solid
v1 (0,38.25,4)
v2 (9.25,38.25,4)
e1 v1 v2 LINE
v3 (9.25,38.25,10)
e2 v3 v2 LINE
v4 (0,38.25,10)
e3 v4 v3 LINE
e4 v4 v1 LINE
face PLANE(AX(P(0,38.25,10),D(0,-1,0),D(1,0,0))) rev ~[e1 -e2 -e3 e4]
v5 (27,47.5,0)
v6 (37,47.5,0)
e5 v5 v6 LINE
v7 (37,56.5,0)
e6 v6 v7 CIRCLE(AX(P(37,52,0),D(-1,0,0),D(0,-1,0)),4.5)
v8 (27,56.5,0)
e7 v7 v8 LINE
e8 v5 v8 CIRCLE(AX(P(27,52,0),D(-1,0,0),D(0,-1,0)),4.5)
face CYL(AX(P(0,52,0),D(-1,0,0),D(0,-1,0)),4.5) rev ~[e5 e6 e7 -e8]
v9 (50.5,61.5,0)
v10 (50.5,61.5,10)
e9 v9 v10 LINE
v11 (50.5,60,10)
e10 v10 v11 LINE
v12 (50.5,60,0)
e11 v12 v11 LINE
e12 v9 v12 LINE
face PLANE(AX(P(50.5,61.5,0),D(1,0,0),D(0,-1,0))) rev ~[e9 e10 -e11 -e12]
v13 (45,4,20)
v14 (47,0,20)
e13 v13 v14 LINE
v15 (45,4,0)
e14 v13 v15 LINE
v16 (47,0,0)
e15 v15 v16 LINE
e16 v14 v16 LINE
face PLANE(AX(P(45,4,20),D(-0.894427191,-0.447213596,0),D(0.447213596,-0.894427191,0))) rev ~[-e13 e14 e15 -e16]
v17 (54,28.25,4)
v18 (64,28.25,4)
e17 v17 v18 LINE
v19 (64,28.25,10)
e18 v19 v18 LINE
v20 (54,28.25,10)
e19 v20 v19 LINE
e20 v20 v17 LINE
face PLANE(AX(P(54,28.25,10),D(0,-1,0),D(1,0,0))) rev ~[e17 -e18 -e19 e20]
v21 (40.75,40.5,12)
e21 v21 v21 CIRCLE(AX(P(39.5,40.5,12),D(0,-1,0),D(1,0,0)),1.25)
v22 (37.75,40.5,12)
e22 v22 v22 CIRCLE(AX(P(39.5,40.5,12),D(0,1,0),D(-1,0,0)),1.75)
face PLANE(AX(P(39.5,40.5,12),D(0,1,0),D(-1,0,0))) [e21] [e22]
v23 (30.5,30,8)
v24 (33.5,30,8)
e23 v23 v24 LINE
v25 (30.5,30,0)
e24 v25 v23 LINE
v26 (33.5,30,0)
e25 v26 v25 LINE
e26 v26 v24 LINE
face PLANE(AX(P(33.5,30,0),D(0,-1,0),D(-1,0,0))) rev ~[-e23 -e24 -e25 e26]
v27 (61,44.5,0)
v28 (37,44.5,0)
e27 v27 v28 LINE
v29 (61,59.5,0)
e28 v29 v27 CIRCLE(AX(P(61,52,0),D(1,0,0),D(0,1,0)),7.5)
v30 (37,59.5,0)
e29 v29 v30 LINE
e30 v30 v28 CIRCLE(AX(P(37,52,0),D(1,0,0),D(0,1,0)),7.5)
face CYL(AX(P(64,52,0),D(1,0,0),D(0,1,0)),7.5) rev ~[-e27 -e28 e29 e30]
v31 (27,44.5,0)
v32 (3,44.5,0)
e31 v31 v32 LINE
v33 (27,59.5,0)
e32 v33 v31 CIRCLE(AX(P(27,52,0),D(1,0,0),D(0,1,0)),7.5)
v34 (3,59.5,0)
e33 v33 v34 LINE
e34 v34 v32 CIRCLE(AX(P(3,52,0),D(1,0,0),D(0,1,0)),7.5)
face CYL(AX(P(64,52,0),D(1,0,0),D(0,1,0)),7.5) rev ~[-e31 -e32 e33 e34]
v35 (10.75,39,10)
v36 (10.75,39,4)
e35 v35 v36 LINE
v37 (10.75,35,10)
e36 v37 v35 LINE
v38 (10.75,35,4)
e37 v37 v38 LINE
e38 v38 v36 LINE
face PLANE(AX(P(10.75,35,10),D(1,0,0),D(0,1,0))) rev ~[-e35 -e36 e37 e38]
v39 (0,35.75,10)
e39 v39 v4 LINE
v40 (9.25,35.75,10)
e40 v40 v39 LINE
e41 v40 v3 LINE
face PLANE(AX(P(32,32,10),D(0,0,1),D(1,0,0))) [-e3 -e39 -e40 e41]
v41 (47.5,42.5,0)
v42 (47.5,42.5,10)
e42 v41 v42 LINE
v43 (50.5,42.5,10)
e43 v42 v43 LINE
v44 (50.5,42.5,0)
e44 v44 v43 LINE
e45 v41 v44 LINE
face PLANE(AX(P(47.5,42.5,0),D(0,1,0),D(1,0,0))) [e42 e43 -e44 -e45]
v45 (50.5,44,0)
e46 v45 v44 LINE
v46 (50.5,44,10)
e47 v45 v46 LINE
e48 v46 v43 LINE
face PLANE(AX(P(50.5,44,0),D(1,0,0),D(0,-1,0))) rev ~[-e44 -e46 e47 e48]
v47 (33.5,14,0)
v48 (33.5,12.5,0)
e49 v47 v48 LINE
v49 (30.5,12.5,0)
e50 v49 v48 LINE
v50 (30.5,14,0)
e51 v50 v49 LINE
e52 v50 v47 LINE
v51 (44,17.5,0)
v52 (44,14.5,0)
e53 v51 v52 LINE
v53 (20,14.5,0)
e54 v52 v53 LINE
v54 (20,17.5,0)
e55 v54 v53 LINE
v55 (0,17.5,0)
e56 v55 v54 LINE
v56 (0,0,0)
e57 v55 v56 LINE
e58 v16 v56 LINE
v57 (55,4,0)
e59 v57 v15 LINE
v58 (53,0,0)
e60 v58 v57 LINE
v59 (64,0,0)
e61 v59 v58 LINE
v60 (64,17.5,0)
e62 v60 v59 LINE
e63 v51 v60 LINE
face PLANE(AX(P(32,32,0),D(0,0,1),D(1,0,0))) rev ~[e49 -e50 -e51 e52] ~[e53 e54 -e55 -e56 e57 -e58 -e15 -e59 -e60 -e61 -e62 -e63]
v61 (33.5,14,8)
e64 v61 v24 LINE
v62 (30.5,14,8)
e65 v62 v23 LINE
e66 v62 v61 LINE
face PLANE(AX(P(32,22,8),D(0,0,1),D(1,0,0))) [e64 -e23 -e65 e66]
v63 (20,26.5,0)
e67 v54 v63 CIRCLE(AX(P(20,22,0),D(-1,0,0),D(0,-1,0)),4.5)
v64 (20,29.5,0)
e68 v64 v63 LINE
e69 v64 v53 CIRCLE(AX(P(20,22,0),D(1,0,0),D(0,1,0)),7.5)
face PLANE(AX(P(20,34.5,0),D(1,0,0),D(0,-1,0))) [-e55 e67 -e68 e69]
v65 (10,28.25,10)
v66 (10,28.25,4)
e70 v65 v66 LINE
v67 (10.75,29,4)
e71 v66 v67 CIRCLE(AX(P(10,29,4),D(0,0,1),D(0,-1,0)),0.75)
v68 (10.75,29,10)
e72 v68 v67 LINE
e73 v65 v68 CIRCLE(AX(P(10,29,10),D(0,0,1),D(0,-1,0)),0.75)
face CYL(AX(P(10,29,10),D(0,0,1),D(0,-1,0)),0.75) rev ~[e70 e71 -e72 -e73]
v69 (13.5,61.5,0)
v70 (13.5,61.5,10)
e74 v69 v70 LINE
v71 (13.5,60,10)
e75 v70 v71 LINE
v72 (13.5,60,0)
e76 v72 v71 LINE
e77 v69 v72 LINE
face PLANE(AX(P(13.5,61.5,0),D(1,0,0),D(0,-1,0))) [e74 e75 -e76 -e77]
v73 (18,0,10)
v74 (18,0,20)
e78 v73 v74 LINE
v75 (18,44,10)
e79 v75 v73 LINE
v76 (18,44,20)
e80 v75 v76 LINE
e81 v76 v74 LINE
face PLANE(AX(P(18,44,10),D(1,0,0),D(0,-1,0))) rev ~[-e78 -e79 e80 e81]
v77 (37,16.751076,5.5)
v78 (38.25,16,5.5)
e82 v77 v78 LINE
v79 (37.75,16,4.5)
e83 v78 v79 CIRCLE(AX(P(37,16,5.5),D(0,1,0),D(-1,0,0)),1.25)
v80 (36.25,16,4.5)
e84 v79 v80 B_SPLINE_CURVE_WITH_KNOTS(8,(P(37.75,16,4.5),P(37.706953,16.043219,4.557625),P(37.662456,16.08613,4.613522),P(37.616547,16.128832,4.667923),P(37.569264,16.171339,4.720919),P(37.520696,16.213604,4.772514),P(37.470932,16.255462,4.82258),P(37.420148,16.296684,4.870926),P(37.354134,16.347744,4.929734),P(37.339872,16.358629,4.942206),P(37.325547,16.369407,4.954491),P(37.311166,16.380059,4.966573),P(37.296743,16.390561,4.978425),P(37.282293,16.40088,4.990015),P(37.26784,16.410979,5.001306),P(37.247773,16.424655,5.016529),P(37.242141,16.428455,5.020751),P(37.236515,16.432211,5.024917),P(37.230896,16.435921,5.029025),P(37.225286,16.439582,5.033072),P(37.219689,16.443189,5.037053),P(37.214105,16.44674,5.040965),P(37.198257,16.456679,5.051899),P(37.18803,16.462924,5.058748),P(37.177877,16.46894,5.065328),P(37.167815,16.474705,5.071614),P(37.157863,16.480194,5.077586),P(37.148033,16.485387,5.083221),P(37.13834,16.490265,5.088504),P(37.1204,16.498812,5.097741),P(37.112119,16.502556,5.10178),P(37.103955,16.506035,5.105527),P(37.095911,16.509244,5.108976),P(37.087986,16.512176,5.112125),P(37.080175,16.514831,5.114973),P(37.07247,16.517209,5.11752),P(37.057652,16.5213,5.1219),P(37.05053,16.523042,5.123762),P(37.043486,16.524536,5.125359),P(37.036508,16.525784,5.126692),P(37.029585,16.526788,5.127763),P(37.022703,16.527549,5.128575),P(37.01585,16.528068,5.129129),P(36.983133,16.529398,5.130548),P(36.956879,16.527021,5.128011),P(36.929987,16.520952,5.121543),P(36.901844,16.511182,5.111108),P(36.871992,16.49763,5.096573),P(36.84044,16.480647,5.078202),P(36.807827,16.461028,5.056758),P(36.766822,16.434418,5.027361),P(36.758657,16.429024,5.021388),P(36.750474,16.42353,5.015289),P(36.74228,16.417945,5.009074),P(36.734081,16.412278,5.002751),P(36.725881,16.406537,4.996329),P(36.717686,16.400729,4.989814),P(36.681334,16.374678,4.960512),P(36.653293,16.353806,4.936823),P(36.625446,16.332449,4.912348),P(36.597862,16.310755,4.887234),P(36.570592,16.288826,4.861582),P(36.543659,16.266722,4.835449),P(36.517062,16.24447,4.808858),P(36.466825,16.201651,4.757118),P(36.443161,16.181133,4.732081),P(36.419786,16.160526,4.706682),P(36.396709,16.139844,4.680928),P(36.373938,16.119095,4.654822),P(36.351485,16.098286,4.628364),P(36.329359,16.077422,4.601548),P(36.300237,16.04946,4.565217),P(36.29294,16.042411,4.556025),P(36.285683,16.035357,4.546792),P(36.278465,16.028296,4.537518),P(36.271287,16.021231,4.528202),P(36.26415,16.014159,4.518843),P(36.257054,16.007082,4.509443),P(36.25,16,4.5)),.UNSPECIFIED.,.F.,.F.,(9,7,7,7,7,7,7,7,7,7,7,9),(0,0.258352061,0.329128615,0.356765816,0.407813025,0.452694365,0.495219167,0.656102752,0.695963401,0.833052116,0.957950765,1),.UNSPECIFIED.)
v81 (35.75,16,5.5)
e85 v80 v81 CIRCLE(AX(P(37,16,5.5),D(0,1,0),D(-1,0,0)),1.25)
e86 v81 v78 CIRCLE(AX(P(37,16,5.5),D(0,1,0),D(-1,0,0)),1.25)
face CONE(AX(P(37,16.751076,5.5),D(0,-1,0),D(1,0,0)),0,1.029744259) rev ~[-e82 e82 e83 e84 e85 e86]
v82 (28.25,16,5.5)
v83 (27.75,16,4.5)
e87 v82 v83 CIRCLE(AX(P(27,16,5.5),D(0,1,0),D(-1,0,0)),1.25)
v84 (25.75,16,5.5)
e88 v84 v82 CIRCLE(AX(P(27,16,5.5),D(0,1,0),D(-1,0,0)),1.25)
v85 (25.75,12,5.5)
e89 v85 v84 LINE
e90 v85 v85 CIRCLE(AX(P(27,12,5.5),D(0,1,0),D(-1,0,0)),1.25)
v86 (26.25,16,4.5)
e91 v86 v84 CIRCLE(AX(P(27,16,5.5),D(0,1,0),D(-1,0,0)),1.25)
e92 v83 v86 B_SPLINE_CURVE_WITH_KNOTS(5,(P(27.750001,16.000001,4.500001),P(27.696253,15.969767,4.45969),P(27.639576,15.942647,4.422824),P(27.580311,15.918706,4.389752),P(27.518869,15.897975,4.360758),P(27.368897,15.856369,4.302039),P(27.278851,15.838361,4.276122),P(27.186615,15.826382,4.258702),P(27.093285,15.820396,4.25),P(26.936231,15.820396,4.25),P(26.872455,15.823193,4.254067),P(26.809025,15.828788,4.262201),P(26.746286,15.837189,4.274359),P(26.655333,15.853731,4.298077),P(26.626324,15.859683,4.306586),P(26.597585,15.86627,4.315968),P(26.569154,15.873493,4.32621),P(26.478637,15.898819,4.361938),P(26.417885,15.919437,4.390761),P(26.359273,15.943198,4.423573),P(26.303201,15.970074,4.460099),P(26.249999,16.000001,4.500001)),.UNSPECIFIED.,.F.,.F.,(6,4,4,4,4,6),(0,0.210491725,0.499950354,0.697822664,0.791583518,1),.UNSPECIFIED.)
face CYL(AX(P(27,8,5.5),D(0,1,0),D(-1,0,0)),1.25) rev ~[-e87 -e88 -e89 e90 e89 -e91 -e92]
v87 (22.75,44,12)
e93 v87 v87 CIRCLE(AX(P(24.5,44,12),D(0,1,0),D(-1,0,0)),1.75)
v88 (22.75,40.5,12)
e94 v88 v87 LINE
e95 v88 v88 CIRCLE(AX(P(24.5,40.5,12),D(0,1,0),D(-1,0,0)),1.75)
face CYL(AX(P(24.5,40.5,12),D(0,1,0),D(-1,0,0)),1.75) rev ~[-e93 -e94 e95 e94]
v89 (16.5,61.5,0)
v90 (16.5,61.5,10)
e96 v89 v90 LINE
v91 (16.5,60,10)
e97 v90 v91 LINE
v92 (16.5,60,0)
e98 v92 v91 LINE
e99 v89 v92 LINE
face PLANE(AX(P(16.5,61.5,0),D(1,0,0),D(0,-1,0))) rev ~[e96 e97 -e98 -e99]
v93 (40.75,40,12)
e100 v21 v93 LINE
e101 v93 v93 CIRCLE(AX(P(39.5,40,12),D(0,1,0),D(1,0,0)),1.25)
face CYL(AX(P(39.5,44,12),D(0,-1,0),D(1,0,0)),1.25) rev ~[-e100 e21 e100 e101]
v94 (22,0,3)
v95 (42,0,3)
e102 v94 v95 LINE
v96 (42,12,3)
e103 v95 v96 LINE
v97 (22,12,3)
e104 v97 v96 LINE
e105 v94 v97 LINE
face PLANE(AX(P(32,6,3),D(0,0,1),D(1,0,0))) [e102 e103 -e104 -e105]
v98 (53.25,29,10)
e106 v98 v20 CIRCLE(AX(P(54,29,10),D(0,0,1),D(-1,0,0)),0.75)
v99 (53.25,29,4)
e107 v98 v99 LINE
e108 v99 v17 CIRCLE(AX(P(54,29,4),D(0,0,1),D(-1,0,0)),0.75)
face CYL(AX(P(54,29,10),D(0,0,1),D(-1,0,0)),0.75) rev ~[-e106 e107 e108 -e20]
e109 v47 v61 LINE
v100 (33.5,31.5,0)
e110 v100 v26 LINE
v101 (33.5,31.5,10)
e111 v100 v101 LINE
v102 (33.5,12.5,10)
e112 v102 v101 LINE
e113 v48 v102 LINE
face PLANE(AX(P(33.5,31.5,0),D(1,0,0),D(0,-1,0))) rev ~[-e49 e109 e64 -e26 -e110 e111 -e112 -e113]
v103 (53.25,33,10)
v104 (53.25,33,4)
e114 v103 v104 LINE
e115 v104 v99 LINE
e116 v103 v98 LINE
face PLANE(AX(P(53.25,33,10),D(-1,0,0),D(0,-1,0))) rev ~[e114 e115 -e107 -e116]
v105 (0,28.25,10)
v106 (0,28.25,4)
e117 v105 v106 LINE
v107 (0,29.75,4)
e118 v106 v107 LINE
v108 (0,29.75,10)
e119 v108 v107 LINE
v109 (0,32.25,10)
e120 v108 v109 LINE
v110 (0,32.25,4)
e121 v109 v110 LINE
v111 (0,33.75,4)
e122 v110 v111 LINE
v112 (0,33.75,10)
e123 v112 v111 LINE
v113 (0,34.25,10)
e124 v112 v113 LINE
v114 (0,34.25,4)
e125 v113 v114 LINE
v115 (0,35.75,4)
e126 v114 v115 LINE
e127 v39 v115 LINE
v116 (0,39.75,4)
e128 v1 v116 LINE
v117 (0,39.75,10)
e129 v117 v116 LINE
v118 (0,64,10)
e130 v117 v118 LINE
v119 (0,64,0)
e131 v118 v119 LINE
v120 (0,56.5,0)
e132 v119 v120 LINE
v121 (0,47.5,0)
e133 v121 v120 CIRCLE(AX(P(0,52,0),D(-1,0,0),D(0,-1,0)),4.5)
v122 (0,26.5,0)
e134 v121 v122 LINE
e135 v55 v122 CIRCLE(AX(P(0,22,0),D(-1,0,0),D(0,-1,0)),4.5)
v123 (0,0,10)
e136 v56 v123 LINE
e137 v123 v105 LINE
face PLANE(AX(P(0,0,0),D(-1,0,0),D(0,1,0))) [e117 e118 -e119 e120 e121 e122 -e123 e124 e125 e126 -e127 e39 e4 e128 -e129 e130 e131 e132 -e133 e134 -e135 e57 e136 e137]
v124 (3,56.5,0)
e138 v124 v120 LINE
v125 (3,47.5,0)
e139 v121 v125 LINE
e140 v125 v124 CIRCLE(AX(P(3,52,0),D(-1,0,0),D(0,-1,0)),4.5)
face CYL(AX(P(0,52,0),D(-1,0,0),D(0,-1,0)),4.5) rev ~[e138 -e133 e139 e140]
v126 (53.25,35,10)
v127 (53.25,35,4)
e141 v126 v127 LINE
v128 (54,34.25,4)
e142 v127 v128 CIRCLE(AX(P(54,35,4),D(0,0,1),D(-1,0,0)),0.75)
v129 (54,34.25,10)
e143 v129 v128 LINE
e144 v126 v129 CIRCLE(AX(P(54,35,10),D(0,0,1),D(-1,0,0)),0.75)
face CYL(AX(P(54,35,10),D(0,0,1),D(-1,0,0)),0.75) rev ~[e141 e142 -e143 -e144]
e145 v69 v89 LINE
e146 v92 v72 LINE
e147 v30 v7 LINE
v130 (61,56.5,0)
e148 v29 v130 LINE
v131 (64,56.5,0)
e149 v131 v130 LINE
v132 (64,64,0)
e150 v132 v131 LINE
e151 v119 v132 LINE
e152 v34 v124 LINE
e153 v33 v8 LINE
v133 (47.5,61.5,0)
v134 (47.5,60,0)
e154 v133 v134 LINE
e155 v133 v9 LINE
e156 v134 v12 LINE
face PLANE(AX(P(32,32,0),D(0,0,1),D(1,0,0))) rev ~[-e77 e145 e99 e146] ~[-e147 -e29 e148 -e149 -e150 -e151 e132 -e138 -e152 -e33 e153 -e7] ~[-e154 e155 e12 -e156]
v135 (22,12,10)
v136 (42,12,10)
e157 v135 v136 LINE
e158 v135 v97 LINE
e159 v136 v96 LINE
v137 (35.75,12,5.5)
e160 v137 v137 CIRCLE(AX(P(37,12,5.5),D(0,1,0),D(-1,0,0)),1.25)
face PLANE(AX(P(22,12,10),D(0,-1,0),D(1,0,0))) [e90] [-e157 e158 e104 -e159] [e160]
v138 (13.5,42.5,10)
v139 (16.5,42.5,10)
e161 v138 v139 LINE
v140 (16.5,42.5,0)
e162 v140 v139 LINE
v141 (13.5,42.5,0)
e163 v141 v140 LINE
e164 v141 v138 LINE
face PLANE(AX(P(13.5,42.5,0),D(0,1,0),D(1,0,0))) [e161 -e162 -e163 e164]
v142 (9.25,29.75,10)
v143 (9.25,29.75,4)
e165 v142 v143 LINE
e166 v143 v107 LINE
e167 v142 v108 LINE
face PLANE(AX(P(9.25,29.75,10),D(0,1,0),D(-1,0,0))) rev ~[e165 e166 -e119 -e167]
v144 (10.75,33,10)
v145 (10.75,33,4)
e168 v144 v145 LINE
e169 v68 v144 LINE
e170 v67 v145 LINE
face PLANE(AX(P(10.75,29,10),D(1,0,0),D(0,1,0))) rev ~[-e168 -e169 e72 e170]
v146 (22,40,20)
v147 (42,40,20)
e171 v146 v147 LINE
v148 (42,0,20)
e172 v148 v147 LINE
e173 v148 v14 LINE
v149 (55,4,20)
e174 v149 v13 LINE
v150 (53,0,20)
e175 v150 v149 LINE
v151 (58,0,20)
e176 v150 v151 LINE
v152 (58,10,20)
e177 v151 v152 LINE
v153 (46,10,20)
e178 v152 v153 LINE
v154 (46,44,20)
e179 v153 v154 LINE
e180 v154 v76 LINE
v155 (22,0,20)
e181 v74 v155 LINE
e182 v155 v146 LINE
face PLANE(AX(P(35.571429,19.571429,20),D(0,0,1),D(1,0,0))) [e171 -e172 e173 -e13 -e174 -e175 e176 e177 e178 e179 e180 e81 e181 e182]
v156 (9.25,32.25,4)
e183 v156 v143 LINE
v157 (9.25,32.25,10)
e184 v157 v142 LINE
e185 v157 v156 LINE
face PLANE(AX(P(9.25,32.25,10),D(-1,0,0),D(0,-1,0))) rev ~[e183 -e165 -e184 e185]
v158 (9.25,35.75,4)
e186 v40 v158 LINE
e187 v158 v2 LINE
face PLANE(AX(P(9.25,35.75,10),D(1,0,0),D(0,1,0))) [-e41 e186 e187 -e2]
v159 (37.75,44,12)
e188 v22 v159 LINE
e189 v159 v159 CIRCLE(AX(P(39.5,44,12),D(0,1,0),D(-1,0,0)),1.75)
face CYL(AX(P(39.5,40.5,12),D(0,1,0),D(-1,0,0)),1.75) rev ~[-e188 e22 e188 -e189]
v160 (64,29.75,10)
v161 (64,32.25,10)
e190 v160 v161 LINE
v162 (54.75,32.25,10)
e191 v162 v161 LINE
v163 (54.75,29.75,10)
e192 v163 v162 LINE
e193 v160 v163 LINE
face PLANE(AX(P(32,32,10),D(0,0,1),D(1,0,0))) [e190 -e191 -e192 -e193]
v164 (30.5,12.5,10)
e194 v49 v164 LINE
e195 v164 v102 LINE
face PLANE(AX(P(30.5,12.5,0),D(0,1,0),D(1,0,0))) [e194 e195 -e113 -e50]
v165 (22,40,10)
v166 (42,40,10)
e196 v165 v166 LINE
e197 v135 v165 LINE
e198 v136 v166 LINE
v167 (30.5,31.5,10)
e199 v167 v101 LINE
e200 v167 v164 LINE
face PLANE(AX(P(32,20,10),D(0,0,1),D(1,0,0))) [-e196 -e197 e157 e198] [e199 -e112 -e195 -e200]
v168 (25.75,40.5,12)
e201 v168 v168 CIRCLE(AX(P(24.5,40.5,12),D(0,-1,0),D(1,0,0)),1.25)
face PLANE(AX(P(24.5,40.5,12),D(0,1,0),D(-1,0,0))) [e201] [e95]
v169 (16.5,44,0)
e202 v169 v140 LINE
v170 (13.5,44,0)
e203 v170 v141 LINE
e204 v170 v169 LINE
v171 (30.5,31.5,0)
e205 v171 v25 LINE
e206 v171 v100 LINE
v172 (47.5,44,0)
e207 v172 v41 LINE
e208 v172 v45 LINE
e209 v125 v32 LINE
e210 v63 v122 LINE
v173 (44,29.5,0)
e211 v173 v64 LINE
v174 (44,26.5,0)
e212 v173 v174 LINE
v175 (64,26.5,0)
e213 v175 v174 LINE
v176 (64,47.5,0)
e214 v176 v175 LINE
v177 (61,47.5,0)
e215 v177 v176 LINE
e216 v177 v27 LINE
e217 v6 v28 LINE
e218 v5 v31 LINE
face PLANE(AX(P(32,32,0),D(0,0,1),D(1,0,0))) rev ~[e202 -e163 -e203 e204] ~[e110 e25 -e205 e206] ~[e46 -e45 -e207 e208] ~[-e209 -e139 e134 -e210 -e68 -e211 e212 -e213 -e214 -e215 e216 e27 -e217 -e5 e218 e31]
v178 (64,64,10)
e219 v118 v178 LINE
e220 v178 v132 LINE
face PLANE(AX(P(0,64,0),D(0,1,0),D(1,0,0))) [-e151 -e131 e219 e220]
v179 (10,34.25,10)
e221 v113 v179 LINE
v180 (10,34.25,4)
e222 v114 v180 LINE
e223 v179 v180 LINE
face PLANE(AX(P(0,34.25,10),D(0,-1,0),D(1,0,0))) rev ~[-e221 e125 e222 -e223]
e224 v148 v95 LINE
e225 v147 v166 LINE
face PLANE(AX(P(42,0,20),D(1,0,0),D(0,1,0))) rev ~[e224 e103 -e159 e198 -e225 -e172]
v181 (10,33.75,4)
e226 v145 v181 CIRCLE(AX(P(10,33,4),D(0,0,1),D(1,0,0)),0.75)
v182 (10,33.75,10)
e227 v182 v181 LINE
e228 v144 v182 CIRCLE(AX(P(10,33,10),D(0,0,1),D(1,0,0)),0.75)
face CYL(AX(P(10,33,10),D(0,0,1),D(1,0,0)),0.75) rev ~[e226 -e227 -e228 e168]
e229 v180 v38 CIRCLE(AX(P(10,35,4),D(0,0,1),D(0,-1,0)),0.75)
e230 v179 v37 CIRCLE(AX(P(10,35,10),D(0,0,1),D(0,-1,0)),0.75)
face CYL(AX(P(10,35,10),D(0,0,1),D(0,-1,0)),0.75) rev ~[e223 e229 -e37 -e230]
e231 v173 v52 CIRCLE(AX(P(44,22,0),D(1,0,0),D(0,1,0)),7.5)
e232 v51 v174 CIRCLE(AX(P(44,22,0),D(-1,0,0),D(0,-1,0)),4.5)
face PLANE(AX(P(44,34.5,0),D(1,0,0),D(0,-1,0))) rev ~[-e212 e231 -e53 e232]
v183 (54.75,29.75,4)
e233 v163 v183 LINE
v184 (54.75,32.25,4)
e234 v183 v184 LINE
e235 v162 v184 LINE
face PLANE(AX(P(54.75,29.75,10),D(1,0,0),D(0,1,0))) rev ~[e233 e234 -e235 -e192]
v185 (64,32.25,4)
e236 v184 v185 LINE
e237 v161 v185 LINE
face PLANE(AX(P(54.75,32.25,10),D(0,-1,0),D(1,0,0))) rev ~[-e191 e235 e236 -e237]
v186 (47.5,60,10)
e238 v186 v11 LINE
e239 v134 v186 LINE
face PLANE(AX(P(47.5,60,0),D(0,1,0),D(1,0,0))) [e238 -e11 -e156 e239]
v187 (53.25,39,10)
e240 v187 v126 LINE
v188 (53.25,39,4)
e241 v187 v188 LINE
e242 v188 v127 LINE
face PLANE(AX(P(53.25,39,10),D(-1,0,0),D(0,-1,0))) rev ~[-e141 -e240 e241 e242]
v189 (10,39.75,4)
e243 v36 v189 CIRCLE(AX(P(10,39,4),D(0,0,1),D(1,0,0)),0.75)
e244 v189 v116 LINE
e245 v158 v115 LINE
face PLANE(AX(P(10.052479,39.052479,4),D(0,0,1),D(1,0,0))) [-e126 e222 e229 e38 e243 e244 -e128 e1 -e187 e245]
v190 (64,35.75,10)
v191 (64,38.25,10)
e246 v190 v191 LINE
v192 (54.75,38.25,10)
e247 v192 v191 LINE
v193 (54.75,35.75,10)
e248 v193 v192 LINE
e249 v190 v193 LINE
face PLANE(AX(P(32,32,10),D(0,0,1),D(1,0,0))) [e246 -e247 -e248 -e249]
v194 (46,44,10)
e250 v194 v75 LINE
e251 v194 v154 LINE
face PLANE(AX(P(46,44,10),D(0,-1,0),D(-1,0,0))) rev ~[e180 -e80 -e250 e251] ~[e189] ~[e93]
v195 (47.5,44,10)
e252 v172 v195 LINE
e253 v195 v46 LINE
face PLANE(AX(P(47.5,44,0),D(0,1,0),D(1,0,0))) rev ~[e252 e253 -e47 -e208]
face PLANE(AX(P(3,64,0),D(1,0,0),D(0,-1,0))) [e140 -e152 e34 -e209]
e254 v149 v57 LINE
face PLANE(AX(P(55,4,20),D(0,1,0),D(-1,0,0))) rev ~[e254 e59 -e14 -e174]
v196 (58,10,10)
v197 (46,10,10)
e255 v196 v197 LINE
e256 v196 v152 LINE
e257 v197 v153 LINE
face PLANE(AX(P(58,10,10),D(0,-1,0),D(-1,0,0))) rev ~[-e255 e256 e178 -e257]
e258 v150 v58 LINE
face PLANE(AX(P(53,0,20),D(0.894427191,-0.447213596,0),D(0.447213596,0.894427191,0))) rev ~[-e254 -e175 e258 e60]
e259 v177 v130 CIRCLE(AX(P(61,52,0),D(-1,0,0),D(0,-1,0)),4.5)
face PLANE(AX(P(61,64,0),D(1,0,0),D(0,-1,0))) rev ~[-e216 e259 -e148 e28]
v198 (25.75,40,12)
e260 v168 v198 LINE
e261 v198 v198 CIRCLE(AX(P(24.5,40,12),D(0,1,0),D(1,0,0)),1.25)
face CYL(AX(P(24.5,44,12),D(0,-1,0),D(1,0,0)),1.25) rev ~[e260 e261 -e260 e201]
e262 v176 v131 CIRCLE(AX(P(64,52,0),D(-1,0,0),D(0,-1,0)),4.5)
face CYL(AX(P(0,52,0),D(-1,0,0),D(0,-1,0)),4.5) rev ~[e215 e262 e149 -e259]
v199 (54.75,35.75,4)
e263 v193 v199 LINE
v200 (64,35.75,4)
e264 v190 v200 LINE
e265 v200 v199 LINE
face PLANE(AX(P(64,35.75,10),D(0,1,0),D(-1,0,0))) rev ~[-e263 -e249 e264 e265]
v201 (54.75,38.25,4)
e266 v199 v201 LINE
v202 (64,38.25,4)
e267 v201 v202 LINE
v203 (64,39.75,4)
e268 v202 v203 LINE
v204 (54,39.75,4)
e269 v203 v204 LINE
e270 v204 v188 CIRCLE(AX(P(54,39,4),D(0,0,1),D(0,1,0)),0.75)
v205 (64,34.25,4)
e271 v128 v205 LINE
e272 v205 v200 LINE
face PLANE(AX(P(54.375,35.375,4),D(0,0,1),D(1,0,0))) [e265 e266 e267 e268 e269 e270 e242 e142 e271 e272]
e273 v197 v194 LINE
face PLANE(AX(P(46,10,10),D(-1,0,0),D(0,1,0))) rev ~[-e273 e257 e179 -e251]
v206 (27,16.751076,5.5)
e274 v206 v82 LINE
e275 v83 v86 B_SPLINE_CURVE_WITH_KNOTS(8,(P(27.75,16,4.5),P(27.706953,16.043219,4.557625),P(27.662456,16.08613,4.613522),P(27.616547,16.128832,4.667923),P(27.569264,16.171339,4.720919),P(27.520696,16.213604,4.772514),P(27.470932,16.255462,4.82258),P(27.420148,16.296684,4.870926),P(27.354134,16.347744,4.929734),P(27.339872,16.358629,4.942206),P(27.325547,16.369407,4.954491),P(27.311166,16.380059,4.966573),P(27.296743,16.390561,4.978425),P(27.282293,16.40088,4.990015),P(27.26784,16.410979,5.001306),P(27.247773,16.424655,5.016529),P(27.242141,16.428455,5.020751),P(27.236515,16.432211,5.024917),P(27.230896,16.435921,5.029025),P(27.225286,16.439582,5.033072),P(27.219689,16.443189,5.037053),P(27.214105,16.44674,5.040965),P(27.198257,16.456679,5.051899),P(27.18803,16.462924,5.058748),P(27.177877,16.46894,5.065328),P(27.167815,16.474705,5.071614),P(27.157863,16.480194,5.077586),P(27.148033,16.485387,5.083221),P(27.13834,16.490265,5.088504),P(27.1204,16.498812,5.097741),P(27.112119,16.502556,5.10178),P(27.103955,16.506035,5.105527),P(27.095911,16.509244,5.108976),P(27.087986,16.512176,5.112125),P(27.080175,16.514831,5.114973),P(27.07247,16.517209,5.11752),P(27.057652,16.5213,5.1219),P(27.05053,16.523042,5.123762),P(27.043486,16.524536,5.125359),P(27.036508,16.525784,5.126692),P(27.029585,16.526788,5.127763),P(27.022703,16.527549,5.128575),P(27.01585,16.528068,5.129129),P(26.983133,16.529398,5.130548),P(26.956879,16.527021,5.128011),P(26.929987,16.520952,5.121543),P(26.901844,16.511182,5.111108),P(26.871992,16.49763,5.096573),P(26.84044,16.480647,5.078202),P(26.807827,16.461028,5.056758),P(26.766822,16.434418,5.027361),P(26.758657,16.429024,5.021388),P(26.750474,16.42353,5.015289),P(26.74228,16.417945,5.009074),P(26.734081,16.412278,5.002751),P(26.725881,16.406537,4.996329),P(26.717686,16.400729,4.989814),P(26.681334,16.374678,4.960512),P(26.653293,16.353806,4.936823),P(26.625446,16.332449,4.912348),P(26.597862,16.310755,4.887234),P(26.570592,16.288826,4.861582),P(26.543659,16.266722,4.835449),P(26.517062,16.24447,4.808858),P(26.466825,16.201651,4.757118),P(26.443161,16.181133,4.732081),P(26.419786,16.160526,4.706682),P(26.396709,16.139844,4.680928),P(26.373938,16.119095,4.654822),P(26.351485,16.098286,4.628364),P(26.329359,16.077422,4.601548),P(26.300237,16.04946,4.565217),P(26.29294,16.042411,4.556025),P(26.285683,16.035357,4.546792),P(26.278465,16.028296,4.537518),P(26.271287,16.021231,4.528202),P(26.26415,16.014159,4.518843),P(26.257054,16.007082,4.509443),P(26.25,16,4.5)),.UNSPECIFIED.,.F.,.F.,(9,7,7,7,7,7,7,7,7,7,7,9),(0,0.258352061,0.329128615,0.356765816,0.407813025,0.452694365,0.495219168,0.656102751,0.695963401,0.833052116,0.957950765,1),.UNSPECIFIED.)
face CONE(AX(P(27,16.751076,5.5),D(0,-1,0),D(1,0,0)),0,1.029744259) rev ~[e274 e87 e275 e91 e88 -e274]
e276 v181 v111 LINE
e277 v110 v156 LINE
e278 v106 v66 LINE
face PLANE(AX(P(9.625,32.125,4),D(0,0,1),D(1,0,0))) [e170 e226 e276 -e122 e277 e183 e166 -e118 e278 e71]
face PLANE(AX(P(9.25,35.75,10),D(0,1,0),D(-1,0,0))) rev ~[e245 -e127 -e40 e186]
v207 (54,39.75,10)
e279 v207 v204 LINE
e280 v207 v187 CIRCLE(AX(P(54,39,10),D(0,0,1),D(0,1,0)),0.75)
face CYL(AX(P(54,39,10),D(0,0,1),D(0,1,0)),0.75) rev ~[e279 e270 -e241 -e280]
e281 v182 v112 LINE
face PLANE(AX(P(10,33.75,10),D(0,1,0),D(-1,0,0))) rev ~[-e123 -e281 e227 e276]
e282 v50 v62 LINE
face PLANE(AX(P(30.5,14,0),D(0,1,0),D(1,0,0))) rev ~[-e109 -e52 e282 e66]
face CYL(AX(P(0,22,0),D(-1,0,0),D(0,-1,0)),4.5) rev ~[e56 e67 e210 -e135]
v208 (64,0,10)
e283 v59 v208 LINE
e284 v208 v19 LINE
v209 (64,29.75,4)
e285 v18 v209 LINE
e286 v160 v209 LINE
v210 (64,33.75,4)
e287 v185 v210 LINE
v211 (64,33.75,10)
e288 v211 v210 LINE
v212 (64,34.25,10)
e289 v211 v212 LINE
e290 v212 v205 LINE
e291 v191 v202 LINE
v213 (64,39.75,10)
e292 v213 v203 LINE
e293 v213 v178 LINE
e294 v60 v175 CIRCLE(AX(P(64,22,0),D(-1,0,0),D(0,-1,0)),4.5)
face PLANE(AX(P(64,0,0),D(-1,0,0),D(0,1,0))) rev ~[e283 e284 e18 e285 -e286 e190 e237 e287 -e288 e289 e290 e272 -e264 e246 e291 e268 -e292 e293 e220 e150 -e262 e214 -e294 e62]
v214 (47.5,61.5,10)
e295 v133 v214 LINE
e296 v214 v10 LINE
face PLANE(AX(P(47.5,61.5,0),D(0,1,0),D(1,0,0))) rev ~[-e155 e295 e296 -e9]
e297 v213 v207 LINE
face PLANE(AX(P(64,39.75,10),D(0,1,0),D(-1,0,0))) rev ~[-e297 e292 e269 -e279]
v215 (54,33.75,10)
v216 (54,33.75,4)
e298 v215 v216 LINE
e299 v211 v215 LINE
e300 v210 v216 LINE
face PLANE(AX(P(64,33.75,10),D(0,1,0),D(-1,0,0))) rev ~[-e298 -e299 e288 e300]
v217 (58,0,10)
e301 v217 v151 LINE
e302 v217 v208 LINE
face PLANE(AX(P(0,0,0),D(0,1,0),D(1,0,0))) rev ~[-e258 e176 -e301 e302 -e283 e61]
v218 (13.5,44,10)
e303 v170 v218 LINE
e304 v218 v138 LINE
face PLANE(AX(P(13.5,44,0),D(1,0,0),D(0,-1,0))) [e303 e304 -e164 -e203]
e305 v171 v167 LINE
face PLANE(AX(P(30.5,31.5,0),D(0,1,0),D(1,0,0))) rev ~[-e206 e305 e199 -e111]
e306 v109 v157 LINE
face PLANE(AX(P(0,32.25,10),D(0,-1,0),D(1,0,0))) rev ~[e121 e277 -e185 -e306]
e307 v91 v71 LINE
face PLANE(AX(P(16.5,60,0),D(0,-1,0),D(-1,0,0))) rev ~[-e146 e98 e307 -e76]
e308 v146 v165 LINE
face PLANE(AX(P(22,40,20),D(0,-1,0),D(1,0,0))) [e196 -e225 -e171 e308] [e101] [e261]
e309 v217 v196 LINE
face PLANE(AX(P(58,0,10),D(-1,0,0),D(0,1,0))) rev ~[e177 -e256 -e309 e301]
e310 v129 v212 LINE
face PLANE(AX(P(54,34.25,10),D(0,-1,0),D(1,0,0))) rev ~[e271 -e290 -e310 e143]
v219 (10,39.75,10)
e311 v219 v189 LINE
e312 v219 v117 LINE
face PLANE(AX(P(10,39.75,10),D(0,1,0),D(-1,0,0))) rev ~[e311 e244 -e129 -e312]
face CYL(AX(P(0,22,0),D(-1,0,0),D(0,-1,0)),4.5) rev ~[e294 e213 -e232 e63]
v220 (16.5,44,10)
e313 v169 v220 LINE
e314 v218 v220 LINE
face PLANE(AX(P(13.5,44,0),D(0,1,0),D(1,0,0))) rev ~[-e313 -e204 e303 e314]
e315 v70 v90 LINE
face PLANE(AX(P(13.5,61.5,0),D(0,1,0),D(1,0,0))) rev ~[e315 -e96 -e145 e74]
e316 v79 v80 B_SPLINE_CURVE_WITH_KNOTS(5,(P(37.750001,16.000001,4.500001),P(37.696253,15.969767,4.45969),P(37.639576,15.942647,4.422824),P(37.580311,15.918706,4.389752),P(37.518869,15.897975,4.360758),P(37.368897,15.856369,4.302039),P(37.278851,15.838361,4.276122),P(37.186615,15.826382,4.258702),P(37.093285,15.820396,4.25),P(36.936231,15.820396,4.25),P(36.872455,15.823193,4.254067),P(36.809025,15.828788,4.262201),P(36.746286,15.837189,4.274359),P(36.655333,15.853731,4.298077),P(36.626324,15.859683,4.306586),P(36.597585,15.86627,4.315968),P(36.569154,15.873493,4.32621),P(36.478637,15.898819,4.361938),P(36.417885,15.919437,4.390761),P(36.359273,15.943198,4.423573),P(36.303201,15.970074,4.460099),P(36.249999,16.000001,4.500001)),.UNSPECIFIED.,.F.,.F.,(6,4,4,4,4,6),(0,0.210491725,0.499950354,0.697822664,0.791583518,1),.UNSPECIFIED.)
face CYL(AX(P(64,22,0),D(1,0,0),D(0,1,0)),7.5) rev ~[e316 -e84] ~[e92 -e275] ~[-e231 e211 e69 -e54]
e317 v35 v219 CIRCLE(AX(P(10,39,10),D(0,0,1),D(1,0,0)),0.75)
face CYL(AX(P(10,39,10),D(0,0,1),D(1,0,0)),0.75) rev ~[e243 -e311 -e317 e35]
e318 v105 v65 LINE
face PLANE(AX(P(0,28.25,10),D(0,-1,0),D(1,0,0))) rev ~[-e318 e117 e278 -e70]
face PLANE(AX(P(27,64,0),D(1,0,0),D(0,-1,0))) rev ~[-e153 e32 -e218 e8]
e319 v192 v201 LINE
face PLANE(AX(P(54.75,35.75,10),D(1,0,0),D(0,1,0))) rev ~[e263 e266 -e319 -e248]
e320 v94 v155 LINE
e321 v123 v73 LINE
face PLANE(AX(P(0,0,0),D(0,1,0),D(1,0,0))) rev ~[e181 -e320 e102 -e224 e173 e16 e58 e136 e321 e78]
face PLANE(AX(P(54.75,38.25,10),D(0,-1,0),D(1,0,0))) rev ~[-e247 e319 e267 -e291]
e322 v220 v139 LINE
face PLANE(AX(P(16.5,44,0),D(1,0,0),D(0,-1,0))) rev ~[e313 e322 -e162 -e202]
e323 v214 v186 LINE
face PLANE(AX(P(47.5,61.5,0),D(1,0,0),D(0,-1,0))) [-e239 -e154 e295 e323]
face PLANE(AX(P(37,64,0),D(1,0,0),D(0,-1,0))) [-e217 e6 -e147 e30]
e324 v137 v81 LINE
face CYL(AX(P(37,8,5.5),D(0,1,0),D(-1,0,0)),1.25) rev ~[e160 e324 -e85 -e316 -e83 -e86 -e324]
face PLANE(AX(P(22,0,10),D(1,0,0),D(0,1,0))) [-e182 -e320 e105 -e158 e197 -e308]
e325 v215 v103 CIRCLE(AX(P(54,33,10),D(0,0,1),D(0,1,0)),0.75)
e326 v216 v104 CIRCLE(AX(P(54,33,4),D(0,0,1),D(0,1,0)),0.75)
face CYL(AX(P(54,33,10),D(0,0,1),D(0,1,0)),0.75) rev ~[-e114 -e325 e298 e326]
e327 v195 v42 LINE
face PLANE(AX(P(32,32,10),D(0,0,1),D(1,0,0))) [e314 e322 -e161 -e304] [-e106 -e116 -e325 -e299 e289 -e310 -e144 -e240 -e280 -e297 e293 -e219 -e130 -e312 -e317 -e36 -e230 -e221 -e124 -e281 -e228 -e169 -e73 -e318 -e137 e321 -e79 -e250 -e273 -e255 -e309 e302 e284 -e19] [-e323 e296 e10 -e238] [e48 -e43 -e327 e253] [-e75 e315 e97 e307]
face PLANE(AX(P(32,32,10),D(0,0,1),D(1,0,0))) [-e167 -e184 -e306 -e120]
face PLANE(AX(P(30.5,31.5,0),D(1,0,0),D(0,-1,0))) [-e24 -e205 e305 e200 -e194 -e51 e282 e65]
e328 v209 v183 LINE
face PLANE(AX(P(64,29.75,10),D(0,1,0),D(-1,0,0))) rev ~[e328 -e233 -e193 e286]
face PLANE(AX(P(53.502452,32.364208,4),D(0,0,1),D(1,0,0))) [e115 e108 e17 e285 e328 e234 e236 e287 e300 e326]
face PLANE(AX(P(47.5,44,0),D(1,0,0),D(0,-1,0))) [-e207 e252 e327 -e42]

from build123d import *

# Parameters (mm, degrees)
F0_W            = 64
F0_H            = 64
F1_DEPTH        = 10
F3_DEPTH        = 64.001
F4_W            = 20
F4_H            = 34.5
F5_W            = 3
F5_H            = 26.7061145455
F5_W_2          = 10
F6_DEPTH        = 7.6
F7_R            = 4.5
F8_DEPTH        = 64.001
F10_DEPTH       = 10
F11_W           = 20
F11_H           = 40
F12_DEPTH       = 10
F13_W           = 20
F13_H           = 12
F14_DEPTH       = 7
F16_DEPTH       = 20.001
F18_D           = 2.5
F18_DEPTH       = 4
F18_TIP         = 0.7510757738
F20_D           = 2.5
F20_DEPTH       = 4
F20_CBORE_D     = 3.5
F20_CBORE_DEPTH = 3.5
F20_TIP         = 0.7510757738
F21_W           = 0.75
F21_H           = 0.25
F21_H_2         = 2.25
F21_H_3         = 0.75
F21_H_4         = 2.5
F22_DEPTH       = 6
F23_W           = 3
F23_H           = 1.5
F23_W_2         = 1.5
F24_DEPTH       = 10
F25_W           = 3
F25_H           = 16
F26_DEPTH       = 2


with BuildPart() as f1:
    # F0 (on Top) → F1 (new body)
    with BuildSketch(Plane.XY):
        with Locations((32, 32)):
            Rectangle(F0_W, F0_H)
    extrude(amount=F1_DEPTH)

    # F2 (on face) → F3 (cut, through all)
    with BuildSketch(Plane.YZ.offset(64)):
        with BuildLine():
            Line((14.5, 0), (29.5, 0))
            ThreePointArc((29.5, 0), (22, 7.5), (14.5, 0))
        make_face()
        with BuildLine():
            ThreePointArc((59.5, 0), (52, 7.5), (44.5, 0))
            Line((44.5, 0), (59.5, 0))
        make_face()
    extrude(amount=-F3_DEPTH, mode=Mode.SUBTRACT)

    # F4 (on face) + F5 (on face) → F6 (join)
    with BuildSketch(Plane(origin=(0, 0, 0), x_dir=(1, 0, 0), z_dir=(0, 0, -1))):
        with Locations((10, -17.25)):
            Rectangle(F4_W, F4_H)
        with Locations((54, -17.25)):
            Rectangle(F4_W, F4_H)
    with BuildSketch(Plane(origin=(0, 0, 0), x_dir=(1, 0, 0), z_dir=(0, 0, -1))):
        with Locations((1.5, -50.6469427273)):
            Rectangle(F5_W, F5_H)
        with Locations((32, -50.6469427273)):
            Rectangle(F5_W_2, F5_H)
        with Locations((62.5, -50.6469427273)):
            Rectangle(F5_W, F5_H)
    extrude(amount=-F6_DEPTH)

    # F7 (on face) → F8 (cut, through all)
    with BuildSketch(Plane(origin=(0, 0, 0), x_dir=(0, -1, 0), z_dir=(-1, 0, 0))):
        with Locations((-52, 0)):
            Circle(F7_R)
        with Locations((-22, 0)):
            Circle(F7_R)
    extrude(amount=-F8_DEPTH, mode=Mode.SUBTRACT)

    # F9 (on face) → F10 (join)
    with BuildSketch(Plane.XY.offset(10)):
        Polygon((18, 44), (18, 0), (58, 0), (58, 10), (46, 10), (46, 44), align=None)
    extrude(amount=F10_DEPTH)

    # F11 (on face) → F12 (cut)
    with BuildSketch(Plane.XY.offset(20)):
        with Locations((32, 20)):
            Rectangle(F11_W, F11_H)
    extrude(amount=-F12_DEPTH, mode=Mode.SUBTRACT)

    # F13 (on face) → F14 (cut)
    with BuildSketch(Plane.XY.offset(10)):
        with Locations((32, 6)):
            Rectangle(F13_W, F13_H)
    extrude(amount=-F14_DEPTH, mode=Mode.SUBTRACT)

    # F15 (on face) → F16 (cut, through all)
    with BuildSketch(Plane.XY.offset(20)):
        Polygon((47, 0), (50, 0), (50, 4), (45, 4), align=None)
        Polygon((50, 4), (50, 0), (53, 0), (55, 4), align=None)
    extrude(amount=-F16_DEPTH, mode=Mode.SUBTRACT)

    # F18
    with Locations(Plane.XZ.offset(-12)):
        with Locations((27, 5.5), (37, 5.5)):
            Hole(F18_D / 2, depth=F18_DEPTH)
            with Locations((0, 0, -(F18_DEPTH + F18_TIP / 2))):  # 118° drill point
                Cone(0, F18_D / 2, F18_TIP, mode=Mode.SUBTRACT)

    # F20
    with Locations(Plane(origin=(0, 44, 0), x_dir=(-1, 0, 0), z_dir=(0, 1, 0))):
        with Locations((-39.5, 12), (-24.5, 12)):
            CounterBoreHole(F20_D / 2, F20_CBORE_D / 2, F20_CBORE_DEPTH, depth=F20_DEPTH)
            with Locations((0, 0, -(F20_DEPTH + F20_TIP / 2))):  # 118° drill point
                Cone(0, F20_D / 2, F20_TIP, mode=Mode.SUBTRACT)

    # F21 (on face) → F22 (cut)
    with BuildSketch(Plane.XY.offset(10)):
        with Locations((9.625, 32.125)):
            Rectangle(F21_W, F21_H)
        with BuildLine():
            Line((53.25, 33), (53.25, 32))
            Line((53.25, 32), (54, 32))
            Line((54, 32), (54, 32.25))
            ThreePointArc((54, 32.25), (53.4696699141, 32.4696699141), (53.25, 33))
        make_face()
        with BuildLine():
            Line((54, 32), (53.25, 32))
            Line((53.25, 32), (53.25, 29))
            ThreePointArc((53.25, 29), (53.4696699141, 29.5303300859), (54, 29.75))
            Line((54, 29.75), (54, 32))
        make_face()
        with Locations((9.625, 30.875)):
            Rectangle(F21_W, F21_H_2)
        with BuildLine():
            Line((10, 32.25), (10, 32))
            Line((10, 32), (10.75, 32))
            Line((10.75, 32), (10.75, 33))
            ThreePointArc((10.75, 33), (10.5303300859, 32.4696699141), (10, 32.25))
        make_face()
        with BuildLine():
            Line((10.75, 32), (10, 32))
            Line((10, 32), (10, 29.75))
            ThreePointArc((10, 29.75), (10.5303300859, 29.5303300859), (10.75, 29))
            Line((10.75, 29), (10.75, 32))
        make_face()
        with BuildLine():
            Line((0, 32.25), (9.25, 32.25))
            Line((9.25, 32.25), (9.25, 33))
            ThreePointArc((9.25, 33), (9.4696699141, 33.5303300859), (10, 33.75))
            Line((10, 33.75), (0, 33.75))
            ThreePointArc((0, 33.75), (-0.75, 33), (0, 32.25))
        make_face()
        with Locations((9.625, 32.625)):
            Rectangle(F21_W, F21_H_3)
        with Locations((9.625, 29.375)):
            Rectangle(F21_W, F21_H_3)
        with BuildLine():
            Line((9.25, 29), (9.25, 29.75))
            Line((9.25, 29.75), (0, 29.75))
            ThreePointArc((0, 29.75), (-0.75, 29), (0, 28.25))
            Line((0, 28.25), (10, 28.25))
            ThreePointArc((10, 28.25), (9.4696699141, 28.4696699141), (9.25, 29))
        make_face()
        with BuildLine():
            Line((10, 33), (10, 32.25))
            ThreePointArc((10, 32.25), (10.5303300859, 32.4696699141), (10.75, 33))
            ThreePointArc((10.75, 33), (10.5303300859, 33.5303300859), (10, 33.75))
            ThreePointArc((10, 33.75), (9.4696699141, 33.5303300859), (9.25, 33))
            Line((9.25, 33), (10, 33))
        make_face()
        with BuildLine():
            ThreePointArc((10.75, 29), (10.5303300859, 29.5303300859), (10, 29.75))
            Line((10, 29.75), (10, 29))
            Line((10, 29), (9.25, 29))
            ThreePointArc((9.25, 29), (9.4696699141, 28.4696699141), (10, 28.25))
            ThreePointArc((10, 28.25), (10.5303300859, 28.4696699141), (10.75, 29))
        make_face()
        with Locations((54.375, 32.125)):
            Rectangle(F21_W, F21_H)
        with Locations((54.375, 30.875)):
            Rectangle(F21_W, F21_H_2)
        with BuildLine():
            ThreePointArc((54, 33.75), (53.4696699141, 33.5303300859), (53.25, 33))
            ThreePointArc((53.25, 33), (53.4696699141, 32.4696699141), (54, 32.25))
            Line((54, 32.25), (54, 33))
            Line((54, 33), (54.75, 33))
            ThreePointArc((54.75, 33), (54.5303300859, 33.5303300859), (54, 33.75))
        make_face()
        with BuildLine():
            ThreePointArc((54, 29.75), (53.4696699141, 29.5303300859), (53.25, 29))
            ThreePointArc((53.25, 29), (53.4696699141, 28.4696699141), (54, 28.25))
            ThreePointArc((54, 28.25), (54.5303300859, 28.4696699141), (54.75, 29))
            Line((54.75, 29), (54, 29))
            Line((54, 29), (54, 29.75))
        make_face()
        with Locations((54.375, 32.625)):
            Rectangle(F21_W, F21_H_3)
        with Locations((54.375, 29.375)):
            Rectangle(F21_W, F21_H_3)
        with BuildLine():
            Line((64, 33.75), (54, 33.75))
            ThreePointArc((54, 33.75), (54.5303300859, 33.5303300859), (54.75, 33))
            Line((54.75, 33), (54.75, 32.25))
            Line((54.75, 32.25), (64, 32.25))
            ThreePointArc((64, 32.25), (64.75, 33), (64, 33.75))
        make_face()
        with BuildLine():
            ThreePointArc((54.75, 29), (54.5303300859, 28.4696699141), (54, 28.25))
            Line((54, 28.25), (64, 28.25))
            ThreePointArc((64, 28.25), (64.75, 29), (64, 29.75))
            Line((64, 29.75), (54.75, 29.75))
            Line((54.75, 29.75), (54.75, 29))
        make_face()
        with BuildLine():
            ThreePointArc((10, 39.75), (9.4696699141, 39.5303300859), (9.25, 39))
            Line((9.25, 39), (10, 39))
            Line((10, 39), (10, 38.25))
            ThreePointArc((10, 38.25), (10.5303300859, 38.4696699141), (10.75, 39))
            ThreePointArc((10.75, 39), (10.5303300859, 39.5303300859), (10, 39.75))
        make_face()
        with BuildLine():
            Line((9.25, 38.25), (9.25, 39))
            ThreePointArc((9.25, 39), (9.4696699141, 39.5303300859), (10, 39.75))
            Line((10, 39.75), (0, 39.75))
            ThreePointArc((0, 39.75), (-0.75, 39), (0, 38.25))
            Line((0, 38.25), (9.25, 38.25))
        make_face()
        with Locations((9.625, 38.625)):
            Rectangle(F21_W, F21_H_3)
        with Locations((9.625, 37)):
            Rectangle(F21_W, F21_H_4)
        with BuildLine():
            ThreePointArc((10.75, 39), (10.5303300859, 38.4696699141), (10, 38.25))
            Line((10, 38.25), (10, 35.75))
            ThreePointArc((10, 35.75), (10.5303300859, 35.5303300859), (10.75, 35))
            Line((10.75, 35), (10.75, 39))
        make_face()
        with BuildLine():
            Line((9.25, 35), (9.25, 35.75))
            Line((9.25, 35.75), (0, 35.75))
            ThreePointArc((0, 35.75), (-0.75, 35), (0, 34.25))
            Line((0, 34.25), (10, 34.25))
            ThreePointArc((10, 34.25), (9.4696699141, 34.4696699141), (9.25, 35))
        make_face()
        with Locations((9.625, 35.375)):
            Rectangle(F21_W, F21_H_3)
        with BuildLine():
            ThreePointArc((10.75, 35), (10.5303300859, 35.5303300859), (10, 35.75))
            Line((10, 35.75), (10, 35))
            Line((10, 35), (9.25, 35))
            ThreePointArc((9.25, 35), (9.4696699141, 34.4696699141), (10, 34.25))
            ThreePointArc((10, 34.25), (10.5303300859, 34.4696699141), (10.75, 35))
        make_face()
        with Locations((54.375, 35.375)):
            Rectangle(F21_W, F21_H_3)
        with BuildLine():
            Line((54.75, 35), (54, 35))
            Line((54, 35), (54, 35.75))
            ThreePointArc((54, 35.75), (53.4696699141, 35.5303300859), (53.25, 35))
            ThreePointArc((53.25, 35), (53.4696699141, 34.4696699141), (54, 34.25))
            ThreePointArc((54, 34.25), (54.5303300859, 34.4696699141), (54.75, 35))
        make_face()
        with BuildLine():
            Line((54.75, 35.75), (54.75, 35))
            ThreePointArc((54.75, 35), (54.5303300859, 34.4696699141), (54, 34.25))
            Line((54, 34.25), (64, 34.25))
            ThreePointArc((64, 34.25), (64.75, 35), (64, 35.75))
            Line((64, 35.75), (54.75, 35.75))
        make_face()
        with BuildLine():
            ThreePointArc((53.25, 35), (53.4696699141, 35.5303300859), (54, 35.75))
            Line((54, 35.75), (54, 38.25))
            ThreePointArc((54, 38.25), (53.4696699141, 38.4696699141), (53.25, 39))
            Line((53.25, 39), (53.25, 35))
        make_face()
        with Locations((54.375, 37)):
            Rectangle(F21_W, F21_H_4)
        with BuildLine():
            ThreePointArc((53.25, 39), (53.4696699141, 38.4696699141), (54, 38.25))
            Line((54, 38.25), (54, 39))
            Line((54, 39), (54.75, 39))
            ThreePointArc((54.75, 39), (54.5303300859, 39.5303300859), (54, 39.75))
            ThreePointArc((54, 39.75), (53.4696699141, 39.5303300859), (53.25, 39))
        make_face()
        with Locations((54.375, 38.625)):
            Rectangle(F21_W, F21_H_3)
        with BuildLine():
            Line((54.75, 39), (54.75, 38.25))
            Line((54.75, 38.25), (64, 38.25))
            ThreePointArc((64, 38.25), (64.75, 39), (64, 39.75))
            Line((64, 39.75), (54, 39.75))
            ThreePointArc((54, 39.75), (54.5303300859, 39.5303300859), (54.75, 39))
        make_face()
    extrude(amount=-F22_DEPTH, mode=Mode.SUBTRACT)

    # F23 (on face) → F24 (cut, through all)
    with BuildSketch(Plane(origin=(0, 0, 0), x_dir=(1, 0, 0), z_dir=(0, 0, -1))):
        with Locations((49, -43.25)):
            Rectangle(F23_W, F23_H)
        with Locations((49, -60.75)):
            Rectangle(F23_W, F23_H)
        with Locations((14.25, -60.75)):
            Rectangle(F23_W_2, F23_H)
        with Locations((15.75, -60.75)):
            Rectangle(F23_W_2, F23_H)
        with Locations((15, -43.25)):
            Rectangle(F23_W, F23_H)
        with Locations((32.75, -30.75)):
            Rectangle(F23_W_2, F23_H)
        with Locations((31.25, -30.75)):
            Rectangle(F23_W_2, F23_H)
        with Locations((32, -13.25)):
            Rectangle(F23_W, F23_H)
    extrude(amount=-F24_DEPTH, mode=Mode.SUBTRACT)

    # F25 (on face) → F26 (cut)
    with BuildSketch(Plane.XY.offset(10)):
        with Locations((32, 22)):
            Rectangle(F25_W, F25_H)
    extrude(amount=-F26_DEPTH, mode=Mode.SUBTRACT)


solid = f1.part
